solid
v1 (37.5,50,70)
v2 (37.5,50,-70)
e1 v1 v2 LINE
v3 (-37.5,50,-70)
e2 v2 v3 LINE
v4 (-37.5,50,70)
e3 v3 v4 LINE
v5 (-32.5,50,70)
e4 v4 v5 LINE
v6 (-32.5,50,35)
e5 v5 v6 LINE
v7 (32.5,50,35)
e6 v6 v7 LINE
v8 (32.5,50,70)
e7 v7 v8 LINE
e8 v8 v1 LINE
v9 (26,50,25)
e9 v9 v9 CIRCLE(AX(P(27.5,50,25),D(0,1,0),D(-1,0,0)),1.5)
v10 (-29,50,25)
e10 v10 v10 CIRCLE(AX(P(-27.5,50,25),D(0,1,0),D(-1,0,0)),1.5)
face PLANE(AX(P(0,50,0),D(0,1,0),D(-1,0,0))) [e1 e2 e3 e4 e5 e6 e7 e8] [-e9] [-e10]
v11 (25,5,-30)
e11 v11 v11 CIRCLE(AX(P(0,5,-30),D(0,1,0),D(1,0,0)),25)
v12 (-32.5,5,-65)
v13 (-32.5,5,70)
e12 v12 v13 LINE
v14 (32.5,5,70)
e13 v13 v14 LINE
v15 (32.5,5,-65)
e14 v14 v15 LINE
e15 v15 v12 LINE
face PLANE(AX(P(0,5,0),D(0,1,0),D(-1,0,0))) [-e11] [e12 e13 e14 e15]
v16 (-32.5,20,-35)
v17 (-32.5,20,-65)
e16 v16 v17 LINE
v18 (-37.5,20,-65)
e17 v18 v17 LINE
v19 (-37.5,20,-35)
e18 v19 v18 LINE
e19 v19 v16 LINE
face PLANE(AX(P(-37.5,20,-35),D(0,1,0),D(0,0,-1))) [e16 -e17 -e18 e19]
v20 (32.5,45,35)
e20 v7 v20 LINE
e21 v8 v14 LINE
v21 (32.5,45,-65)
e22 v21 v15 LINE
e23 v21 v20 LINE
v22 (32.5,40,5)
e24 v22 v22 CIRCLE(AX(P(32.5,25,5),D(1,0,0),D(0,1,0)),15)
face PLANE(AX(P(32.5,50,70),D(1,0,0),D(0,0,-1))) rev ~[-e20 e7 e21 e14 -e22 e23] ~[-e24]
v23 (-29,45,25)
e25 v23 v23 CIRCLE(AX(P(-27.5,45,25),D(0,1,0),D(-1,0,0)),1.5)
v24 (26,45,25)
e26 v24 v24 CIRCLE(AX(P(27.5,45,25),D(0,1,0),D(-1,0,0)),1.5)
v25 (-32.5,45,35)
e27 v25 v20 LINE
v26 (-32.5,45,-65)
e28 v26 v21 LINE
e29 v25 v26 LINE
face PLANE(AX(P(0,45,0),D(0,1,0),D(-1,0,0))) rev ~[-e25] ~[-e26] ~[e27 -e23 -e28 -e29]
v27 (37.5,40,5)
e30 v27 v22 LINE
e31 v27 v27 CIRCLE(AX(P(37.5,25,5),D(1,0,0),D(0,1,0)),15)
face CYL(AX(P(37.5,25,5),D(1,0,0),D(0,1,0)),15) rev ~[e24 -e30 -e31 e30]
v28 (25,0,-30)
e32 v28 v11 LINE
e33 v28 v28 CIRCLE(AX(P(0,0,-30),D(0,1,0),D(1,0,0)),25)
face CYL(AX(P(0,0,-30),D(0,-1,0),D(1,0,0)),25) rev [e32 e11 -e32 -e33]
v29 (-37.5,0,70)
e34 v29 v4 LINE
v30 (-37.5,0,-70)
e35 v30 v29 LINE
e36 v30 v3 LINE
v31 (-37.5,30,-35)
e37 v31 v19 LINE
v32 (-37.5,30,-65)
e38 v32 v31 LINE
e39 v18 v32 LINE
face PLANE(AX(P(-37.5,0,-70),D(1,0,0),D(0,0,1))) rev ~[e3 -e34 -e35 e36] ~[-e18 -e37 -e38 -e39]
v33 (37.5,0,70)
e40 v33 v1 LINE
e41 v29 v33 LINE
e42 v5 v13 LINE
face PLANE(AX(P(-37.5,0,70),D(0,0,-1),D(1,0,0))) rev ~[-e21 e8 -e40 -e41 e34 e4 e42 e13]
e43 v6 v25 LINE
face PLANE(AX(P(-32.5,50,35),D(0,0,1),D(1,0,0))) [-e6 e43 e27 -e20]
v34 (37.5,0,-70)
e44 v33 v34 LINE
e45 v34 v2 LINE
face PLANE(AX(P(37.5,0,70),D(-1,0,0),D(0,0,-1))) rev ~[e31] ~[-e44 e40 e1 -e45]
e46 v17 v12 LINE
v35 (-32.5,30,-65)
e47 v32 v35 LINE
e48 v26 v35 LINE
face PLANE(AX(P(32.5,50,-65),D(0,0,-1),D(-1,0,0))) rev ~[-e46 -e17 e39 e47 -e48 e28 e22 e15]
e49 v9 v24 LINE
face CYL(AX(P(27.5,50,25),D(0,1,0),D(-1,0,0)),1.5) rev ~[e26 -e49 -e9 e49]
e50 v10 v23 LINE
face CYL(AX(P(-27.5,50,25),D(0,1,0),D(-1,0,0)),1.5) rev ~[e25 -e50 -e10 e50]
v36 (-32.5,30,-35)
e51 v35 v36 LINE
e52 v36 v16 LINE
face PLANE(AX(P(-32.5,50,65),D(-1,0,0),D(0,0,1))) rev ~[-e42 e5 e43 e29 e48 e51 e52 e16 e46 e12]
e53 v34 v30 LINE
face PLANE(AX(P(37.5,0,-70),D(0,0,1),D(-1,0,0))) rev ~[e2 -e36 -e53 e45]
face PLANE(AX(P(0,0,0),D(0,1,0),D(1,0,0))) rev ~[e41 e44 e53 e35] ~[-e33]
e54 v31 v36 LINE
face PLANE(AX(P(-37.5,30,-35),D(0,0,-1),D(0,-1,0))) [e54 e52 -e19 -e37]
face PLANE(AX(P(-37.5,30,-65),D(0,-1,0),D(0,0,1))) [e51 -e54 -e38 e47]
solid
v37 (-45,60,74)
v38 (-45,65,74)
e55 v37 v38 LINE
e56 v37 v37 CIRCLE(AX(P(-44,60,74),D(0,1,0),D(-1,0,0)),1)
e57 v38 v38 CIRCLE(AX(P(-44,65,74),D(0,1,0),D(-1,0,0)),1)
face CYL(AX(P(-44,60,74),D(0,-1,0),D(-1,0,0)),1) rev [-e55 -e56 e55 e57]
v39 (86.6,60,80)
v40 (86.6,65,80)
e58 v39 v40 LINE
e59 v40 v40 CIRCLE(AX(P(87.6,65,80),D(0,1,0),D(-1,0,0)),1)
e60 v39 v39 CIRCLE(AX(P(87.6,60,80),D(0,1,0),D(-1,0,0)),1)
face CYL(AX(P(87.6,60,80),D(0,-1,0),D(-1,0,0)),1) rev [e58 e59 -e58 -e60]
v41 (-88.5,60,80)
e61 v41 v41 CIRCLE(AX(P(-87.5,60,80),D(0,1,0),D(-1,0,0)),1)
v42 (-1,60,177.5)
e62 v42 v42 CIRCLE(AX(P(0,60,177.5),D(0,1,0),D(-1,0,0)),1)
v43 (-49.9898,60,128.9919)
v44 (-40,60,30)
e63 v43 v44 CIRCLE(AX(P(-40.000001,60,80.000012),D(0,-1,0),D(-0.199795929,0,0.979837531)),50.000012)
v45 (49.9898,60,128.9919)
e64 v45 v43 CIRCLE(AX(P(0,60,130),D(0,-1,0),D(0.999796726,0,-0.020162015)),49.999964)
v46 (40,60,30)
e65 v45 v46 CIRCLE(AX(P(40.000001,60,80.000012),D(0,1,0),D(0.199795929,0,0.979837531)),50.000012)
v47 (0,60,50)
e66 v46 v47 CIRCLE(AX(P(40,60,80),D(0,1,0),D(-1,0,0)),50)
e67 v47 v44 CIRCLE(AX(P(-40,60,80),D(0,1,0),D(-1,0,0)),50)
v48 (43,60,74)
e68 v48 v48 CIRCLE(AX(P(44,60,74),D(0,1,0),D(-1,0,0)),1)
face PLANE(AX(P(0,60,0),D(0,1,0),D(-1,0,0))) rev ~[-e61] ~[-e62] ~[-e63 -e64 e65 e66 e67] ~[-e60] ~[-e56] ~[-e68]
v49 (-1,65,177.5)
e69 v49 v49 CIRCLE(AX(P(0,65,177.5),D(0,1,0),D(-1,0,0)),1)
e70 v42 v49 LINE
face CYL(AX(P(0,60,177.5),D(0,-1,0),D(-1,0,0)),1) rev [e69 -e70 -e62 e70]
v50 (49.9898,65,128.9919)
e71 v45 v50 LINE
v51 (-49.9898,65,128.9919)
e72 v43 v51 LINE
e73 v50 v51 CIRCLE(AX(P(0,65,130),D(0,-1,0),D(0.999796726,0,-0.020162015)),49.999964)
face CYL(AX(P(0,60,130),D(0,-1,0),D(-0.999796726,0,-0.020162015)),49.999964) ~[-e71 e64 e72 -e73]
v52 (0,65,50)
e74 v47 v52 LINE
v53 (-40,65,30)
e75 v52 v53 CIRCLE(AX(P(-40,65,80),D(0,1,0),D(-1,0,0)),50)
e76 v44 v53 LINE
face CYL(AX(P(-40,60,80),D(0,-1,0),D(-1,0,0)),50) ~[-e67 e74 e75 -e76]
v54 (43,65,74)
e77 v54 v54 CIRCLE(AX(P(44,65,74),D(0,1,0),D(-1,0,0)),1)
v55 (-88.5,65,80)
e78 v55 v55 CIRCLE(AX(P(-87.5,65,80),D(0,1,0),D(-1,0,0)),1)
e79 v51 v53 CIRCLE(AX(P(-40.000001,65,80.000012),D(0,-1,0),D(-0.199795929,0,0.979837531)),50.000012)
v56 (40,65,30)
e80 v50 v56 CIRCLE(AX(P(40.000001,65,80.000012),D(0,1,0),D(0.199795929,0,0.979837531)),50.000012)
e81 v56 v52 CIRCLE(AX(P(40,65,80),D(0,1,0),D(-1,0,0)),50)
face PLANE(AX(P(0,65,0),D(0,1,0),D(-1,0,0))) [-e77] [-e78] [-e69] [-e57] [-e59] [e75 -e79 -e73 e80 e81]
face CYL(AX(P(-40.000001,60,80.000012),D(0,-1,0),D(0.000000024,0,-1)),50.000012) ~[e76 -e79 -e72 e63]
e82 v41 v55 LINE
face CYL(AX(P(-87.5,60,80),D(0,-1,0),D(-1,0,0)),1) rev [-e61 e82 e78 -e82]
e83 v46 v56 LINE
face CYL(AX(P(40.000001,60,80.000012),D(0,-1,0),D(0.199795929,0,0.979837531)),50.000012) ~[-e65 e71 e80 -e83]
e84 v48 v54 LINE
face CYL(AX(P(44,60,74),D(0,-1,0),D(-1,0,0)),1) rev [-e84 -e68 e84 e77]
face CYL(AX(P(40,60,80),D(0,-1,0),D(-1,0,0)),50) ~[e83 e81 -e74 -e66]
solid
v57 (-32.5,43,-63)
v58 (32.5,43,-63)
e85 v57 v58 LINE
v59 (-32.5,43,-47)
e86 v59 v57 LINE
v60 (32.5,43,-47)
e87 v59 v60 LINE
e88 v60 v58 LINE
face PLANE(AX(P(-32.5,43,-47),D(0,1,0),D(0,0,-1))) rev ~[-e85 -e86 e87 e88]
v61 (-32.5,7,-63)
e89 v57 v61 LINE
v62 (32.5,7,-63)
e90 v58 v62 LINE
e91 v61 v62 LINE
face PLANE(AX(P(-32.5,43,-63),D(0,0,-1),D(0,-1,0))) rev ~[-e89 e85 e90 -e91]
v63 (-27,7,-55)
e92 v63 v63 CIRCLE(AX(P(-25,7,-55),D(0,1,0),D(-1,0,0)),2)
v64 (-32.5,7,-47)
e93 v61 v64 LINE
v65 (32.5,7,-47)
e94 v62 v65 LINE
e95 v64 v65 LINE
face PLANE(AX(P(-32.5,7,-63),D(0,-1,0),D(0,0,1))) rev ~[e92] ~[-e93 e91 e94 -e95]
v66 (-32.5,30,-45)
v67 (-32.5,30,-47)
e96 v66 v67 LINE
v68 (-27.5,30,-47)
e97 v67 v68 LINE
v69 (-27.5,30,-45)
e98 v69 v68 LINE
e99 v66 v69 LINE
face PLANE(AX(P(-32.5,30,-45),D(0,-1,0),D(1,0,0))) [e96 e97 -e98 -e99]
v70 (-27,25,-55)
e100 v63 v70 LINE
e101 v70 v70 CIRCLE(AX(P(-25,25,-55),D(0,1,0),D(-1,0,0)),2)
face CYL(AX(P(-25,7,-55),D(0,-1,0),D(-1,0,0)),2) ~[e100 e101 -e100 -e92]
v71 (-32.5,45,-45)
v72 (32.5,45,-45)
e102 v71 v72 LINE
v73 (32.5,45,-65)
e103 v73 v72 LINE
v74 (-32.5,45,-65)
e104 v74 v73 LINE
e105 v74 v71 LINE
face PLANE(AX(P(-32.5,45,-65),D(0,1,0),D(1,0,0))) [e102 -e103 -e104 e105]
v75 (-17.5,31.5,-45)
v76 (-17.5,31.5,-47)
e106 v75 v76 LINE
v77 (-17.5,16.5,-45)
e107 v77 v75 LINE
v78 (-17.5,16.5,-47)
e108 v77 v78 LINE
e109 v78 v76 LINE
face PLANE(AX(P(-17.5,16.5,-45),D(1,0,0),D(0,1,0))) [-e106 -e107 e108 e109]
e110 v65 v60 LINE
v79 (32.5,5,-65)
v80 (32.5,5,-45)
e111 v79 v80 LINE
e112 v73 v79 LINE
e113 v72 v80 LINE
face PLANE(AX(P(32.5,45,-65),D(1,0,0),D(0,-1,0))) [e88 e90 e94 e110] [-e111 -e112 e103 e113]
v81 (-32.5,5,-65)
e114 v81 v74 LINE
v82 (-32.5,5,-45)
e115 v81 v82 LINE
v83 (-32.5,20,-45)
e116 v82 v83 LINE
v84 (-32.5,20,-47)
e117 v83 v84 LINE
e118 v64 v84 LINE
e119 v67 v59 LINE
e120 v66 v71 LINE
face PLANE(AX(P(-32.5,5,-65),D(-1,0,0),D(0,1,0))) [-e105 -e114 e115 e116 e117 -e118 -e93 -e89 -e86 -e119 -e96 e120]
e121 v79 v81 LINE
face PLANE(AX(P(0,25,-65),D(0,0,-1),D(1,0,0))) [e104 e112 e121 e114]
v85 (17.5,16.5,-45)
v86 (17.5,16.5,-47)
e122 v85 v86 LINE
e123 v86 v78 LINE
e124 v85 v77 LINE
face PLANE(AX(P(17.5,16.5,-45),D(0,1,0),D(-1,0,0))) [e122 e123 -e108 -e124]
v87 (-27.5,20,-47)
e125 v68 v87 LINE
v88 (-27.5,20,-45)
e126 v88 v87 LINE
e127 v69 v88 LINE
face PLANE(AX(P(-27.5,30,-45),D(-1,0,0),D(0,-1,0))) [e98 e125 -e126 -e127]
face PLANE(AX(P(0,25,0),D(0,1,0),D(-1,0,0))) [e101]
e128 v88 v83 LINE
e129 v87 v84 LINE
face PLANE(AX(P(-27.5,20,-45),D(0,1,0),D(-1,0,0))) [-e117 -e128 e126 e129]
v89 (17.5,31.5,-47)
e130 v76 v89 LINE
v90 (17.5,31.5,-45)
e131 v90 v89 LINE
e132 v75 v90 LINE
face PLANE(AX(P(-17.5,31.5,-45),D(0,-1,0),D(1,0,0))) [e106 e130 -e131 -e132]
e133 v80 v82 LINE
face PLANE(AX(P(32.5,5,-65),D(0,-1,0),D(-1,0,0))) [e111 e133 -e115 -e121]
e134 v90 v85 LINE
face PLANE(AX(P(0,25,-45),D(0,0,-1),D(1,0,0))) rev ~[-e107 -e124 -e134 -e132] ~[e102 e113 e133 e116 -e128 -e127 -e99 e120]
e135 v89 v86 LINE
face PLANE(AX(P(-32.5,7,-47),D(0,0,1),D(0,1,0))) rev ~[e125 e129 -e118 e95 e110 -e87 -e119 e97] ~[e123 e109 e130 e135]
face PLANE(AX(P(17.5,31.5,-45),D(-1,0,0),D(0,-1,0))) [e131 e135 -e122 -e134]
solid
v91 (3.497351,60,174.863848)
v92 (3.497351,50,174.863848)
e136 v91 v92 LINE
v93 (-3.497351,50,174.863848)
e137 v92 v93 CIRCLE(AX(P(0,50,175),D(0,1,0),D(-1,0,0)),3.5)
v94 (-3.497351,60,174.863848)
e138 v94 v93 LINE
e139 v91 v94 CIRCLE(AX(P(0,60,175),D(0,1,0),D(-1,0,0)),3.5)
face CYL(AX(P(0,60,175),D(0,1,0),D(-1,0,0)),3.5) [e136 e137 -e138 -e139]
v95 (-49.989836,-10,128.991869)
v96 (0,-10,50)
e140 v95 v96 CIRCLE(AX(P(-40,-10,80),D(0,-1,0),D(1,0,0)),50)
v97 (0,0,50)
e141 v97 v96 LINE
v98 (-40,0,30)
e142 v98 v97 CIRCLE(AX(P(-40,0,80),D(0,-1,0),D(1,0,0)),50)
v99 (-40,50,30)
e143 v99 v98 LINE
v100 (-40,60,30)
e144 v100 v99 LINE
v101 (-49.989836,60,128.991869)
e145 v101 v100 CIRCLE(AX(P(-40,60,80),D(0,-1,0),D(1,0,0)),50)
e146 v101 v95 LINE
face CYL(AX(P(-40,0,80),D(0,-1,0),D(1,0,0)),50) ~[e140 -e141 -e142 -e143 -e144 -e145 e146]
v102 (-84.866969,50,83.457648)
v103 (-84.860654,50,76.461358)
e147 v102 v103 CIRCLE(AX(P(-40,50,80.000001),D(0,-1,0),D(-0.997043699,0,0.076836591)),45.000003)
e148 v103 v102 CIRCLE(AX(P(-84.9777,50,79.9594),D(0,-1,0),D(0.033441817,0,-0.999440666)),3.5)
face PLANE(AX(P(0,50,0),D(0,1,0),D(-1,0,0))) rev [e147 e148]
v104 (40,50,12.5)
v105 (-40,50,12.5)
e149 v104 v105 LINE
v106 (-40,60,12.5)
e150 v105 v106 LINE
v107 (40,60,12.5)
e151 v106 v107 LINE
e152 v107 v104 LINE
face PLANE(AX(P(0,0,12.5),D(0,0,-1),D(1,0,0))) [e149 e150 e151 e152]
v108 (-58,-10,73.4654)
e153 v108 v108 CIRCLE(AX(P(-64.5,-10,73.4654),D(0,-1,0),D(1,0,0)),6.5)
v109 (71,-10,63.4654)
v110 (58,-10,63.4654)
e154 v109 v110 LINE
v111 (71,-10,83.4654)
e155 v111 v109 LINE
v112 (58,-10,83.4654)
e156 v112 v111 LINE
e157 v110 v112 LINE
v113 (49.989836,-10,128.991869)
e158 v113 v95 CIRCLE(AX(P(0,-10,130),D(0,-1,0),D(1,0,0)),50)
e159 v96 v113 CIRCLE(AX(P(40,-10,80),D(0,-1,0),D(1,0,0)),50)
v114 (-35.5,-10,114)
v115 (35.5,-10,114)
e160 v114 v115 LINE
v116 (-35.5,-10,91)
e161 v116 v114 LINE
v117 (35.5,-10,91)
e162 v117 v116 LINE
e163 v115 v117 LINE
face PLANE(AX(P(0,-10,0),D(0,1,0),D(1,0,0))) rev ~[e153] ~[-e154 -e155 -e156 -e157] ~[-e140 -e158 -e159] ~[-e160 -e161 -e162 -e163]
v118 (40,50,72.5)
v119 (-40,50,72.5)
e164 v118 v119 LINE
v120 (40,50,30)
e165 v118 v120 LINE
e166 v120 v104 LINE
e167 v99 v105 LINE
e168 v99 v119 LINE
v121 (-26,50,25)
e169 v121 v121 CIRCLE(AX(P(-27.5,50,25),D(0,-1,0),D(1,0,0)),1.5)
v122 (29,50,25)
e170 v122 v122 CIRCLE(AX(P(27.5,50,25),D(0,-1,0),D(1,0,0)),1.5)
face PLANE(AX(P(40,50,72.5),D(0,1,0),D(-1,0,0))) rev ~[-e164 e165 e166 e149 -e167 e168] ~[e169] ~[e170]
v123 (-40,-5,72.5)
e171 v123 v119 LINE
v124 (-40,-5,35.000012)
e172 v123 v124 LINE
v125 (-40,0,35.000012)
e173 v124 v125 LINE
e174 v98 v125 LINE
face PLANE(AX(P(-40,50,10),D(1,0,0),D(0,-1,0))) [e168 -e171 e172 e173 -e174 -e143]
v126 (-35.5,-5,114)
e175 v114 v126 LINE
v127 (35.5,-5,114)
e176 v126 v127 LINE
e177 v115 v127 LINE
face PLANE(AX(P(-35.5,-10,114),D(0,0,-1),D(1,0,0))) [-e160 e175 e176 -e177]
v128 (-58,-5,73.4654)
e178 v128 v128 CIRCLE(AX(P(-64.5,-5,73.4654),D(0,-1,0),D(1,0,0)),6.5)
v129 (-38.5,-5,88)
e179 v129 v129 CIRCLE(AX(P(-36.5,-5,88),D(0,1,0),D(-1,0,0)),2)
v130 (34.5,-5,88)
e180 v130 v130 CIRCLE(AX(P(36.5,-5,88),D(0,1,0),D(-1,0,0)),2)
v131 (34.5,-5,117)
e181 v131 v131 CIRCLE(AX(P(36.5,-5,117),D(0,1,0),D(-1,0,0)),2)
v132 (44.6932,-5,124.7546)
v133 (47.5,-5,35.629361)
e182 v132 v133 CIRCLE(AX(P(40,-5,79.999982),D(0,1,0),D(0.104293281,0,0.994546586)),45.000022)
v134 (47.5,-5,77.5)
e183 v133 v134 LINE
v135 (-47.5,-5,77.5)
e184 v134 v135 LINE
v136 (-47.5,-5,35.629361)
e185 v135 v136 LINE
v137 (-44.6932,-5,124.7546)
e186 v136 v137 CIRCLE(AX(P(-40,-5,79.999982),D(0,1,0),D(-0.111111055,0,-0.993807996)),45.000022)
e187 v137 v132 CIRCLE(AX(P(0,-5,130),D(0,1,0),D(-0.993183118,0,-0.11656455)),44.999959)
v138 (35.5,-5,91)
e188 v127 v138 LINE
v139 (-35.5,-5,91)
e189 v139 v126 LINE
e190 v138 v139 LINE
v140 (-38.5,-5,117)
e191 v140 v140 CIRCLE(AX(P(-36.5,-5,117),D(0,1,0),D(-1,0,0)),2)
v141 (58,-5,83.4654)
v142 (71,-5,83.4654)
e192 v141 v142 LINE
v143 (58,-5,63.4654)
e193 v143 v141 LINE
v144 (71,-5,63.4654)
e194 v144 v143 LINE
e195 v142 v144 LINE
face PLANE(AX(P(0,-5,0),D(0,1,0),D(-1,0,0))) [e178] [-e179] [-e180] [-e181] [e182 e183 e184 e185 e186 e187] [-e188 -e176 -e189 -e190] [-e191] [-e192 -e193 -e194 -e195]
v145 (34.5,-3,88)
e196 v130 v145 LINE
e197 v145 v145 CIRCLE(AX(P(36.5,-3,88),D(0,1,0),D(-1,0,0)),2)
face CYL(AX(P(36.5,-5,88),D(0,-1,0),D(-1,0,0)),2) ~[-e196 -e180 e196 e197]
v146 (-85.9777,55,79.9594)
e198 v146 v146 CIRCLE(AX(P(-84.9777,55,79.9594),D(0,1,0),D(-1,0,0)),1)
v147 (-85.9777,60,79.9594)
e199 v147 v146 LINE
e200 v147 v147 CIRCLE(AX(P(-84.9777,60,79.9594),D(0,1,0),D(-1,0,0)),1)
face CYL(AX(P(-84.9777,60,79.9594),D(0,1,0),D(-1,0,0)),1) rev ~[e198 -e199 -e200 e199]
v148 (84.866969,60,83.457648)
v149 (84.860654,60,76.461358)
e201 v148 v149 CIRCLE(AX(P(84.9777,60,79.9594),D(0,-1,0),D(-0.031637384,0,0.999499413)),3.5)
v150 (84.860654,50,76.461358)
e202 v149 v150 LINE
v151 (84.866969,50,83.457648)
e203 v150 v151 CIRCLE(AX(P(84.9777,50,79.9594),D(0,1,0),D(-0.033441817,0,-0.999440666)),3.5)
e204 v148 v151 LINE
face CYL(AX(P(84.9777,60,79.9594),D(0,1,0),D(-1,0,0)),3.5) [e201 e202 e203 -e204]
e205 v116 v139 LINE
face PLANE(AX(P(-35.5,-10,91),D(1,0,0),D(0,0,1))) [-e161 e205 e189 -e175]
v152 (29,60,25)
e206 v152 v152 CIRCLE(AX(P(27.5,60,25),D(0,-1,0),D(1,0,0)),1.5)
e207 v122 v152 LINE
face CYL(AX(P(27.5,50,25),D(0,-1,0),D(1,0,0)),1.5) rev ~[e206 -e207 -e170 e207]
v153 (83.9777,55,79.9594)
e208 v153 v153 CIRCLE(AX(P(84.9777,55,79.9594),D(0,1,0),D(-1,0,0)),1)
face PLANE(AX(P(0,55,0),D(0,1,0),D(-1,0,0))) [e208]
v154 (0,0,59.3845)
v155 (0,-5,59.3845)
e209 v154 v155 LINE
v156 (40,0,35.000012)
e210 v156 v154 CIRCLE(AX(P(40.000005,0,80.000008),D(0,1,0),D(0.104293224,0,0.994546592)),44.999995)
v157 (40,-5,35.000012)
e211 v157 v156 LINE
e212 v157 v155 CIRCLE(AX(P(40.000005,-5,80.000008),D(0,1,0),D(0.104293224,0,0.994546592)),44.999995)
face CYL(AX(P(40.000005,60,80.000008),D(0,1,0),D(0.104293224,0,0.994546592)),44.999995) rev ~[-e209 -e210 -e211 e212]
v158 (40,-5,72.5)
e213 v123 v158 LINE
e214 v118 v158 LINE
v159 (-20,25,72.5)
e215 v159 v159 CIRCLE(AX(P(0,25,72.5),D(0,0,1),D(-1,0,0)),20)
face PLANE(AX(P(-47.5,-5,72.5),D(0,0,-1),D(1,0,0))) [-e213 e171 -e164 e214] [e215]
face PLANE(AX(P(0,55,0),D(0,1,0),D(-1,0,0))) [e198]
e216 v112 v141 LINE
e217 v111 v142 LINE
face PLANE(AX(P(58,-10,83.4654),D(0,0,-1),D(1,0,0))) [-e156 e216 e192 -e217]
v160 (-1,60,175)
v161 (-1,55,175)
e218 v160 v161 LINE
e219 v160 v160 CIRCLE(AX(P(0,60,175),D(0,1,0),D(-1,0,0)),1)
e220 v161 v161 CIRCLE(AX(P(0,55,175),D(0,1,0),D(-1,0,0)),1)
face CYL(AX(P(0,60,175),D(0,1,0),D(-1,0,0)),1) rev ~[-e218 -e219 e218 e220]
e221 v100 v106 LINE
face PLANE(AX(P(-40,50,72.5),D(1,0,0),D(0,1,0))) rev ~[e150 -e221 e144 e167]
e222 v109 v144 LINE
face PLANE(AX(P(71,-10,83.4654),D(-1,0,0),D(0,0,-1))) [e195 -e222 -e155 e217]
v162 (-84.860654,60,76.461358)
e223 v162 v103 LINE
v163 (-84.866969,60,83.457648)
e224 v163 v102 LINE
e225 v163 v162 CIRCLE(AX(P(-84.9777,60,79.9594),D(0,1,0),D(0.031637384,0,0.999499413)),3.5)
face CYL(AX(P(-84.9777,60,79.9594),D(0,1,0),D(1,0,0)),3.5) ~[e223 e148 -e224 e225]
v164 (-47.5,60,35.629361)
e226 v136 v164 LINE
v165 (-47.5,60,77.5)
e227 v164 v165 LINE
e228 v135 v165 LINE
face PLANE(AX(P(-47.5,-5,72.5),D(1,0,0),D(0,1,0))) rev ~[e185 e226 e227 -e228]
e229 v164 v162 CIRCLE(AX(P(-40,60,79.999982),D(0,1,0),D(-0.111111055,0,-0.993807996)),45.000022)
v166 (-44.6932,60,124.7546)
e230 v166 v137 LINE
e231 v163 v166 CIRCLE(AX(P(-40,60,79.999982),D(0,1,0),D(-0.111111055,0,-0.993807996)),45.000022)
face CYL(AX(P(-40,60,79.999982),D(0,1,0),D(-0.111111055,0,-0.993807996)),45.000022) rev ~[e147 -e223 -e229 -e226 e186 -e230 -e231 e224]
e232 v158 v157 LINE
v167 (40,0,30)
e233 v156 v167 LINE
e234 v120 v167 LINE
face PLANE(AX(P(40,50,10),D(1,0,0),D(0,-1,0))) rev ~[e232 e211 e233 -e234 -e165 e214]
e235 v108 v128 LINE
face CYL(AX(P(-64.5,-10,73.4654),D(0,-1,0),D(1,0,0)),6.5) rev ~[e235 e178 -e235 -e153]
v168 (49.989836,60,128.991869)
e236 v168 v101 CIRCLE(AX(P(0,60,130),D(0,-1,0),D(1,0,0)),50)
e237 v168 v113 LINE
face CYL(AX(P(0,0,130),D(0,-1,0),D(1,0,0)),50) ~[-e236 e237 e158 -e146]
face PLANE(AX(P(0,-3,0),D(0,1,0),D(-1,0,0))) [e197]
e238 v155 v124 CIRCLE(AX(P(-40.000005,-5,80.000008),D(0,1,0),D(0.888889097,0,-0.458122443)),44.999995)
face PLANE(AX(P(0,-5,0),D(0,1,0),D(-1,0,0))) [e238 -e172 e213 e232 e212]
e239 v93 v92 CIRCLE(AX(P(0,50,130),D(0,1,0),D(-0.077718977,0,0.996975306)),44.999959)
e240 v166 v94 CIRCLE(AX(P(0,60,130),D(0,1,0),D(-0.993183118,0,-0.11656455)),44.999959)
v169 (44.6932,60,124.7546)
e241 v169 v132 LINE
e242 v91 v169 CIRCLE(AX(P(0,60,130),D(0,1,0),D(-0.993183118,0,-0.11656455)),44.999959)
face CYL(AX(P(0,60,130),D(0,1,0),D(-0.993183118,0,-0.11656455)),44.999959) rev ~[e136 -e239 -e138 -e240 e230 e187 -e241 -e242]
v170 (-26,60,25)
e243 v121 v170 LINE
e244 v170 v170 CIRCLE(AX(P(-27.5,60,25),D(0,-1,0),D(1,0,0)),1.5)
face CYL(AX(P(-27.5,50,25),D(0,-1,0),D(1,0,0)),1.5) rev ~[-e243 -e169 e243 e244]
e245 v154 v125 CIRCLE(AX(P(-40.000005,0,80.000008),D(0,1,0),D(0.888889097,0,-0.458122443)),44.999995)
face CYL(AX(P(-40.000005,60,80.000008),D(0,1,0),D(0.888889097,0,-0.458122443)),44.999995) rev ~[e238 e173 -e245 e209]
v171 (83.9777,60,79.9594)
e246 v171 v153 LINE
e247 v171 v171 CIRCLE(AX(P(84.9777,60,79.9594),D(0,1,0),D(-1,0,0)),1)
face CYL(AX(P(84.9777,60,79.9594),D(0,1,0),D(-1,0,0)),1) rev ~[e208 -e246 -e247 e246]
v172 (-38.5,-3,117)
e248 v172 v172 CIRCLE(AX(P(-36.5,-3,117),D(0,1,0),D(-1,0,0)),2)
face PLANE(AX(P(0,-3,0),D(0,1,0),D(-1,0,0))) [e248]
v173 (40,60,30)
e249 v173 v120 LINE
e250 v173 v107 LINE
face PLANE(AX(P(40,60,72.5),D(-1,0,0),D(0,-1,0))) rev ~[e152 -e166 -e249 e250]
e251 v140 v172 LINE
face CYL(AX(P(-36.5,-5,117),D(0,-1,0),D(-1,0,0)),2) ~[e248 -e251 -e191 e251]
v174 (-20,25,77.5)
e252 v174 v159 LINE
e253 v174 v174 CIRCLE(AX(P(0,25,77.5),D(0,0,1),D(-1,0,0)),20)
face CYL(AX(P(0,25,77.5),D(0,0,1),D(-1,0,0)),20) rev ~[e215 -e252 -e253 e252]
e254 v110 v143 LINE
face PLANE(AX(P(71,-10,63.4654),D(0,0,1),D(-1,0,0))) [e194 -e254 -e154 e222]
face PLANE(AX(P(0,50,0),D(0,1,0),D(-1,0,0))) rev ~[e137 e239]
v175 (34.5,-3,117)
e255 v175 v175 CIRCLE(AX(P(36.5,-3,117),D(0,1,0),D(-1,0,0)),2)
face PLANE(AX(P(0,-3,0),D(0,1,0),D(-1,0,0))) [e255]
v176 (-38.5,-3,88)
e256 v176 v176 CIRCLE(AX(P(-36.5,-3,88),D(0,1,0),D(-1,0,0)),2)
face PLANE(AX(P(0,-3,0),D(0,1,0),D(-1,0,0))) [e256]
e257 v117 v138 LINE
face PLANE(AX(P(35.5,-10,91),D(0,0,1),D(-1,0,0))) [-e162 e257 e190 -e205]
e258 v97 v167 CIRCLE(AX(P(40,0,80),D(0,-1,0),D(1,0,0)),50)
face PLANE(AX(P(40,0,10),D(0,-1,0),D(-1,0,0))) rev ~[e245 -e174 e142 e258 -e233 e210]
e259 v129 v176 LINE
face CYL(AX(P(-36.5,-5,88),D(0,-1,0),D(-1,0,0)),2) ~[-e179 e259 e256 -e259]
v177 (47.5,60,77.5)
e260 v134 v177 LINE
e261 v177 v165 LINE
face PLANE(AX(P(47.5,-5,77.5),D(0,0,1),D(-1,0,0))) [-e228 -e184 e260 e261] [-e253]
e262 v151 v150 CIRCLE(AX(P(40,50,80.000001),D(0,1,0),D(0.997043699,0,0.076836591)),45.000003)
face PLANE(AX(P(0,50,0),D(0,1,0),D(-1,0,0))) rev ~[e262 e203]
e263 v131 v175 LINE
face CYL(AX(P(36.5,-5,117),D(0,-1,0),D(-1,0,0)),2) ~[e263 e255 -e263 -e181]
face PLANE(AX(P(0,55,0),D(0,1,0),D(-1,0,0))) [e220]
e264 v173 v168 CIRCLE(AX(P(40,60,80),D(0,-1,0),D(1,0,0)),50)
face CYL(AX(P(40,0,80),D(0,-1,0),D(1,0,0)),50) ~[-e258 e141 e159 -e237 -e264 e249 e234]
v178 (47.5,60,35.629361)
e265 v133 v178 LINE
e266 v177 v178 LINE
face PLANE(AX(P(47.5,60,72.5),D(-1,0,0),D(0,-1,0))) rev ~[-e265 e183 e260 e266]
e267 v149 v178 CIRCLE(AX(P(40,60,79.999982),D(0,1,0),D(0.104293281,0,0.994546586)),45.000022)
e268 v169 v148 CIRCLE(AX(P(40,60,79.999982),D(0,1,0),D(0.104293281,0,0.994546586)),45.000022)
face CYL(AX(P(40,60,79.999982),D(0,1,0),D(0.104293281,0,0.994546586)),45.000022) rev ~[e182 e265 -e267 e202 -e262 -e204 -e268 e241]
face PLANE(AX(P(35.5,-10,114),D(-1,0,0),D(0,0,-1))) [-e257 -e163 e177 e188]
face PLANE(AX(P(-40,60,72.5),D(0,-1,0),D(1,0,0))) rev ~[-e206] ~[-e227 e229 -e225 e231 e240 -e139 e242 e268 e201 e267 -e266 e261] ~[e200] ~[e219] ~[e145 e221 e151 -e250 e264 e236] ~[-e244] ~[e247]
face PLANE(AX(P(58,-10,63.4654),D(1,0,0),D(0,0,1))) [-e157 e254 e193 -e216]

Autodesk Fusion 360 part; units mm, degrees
sketch "Sketch1" plane through (0, 0, 0) normal (0, 1, 0) x (1, 0, 0) in component "Trunk"
  line L0 (37.5, 70) -> (-37.5, 70)
  line L1 (-37.5, 70) -> (-37.5, -70)
  line L2 (-37.5, -70) -> (37.5, -70)
  line L3 (37.5, -70) -> (37.5, 70)
  line L4 (37.5, 70) -> (-37.5, -70) construction
  line L5 (-37.5, 70) -> (37.5, -70) construction
  line L6 (-37.5, -30) -> (37.5, -30) construction
  dimension "d1" = 75
  dimension "d2" = 140
  dimension "d3" = 100
extrude "Extrude1" add sketch "Sketch1" along normal blind 50 makes body 1 in component "Trunk"
sketch "Sketch2" plane through (0, 50, 0) normal (0, 1, 0) x (-1, 0, 0) in component "Trunk"
  line L0 (-37.5, 70) -> (-37.5, -70)
  line L1 (-37.5, -70) -> (37.5, -70)
  line L2 (37.5, -70) -> (37.5, 70)
  line L3 (37.5, 70) -> (-37.5, 70)
  line L4 (-32.5, -65) -> (32.5, -65)
  line L5 (32.5, -65) -> (32.5, 65)
  line L6 (32.5, 65) -> (-32.5, 65)
  line L7 (-32.5, 65) -> (-32.5, -65)
  line L8 (-32.5, 65) -> (32.5, 65)
  line L9 (32.5, 65) -> (32.5, 70)
  line L10 (32.5, 70) -> (-32.5, 70)
  line L11 (-32.5, 70) -> (-32.5, 65)
  dimension "d6" = -5
extrude "Extrude2" cut sketch "Sketch2" against normal up to surface (45 mm away) contours L3 L6 L8 L9 L10 L11 | L4 L5 L6 L7 L8 bodies 1 in component "Trunk"
sketch "Sketch3" plane through (37.5, 0, 0) normal (1, 0, 0) x (0, 1, 0) in component "Trunk"
  line L0 (0, 70) -> (0, -70)
  line L1 (0, -70) -> (50, -70)
  line L2 (50, -70) -> (50, 70)
  line L3 (50, 70) -> (0, 70)
  circle A0 centre (25, 5) radius 15
  dimension "d9" = 30
  dimension "d10" = 25
  dimension "d11" = 75
extrude "Extrude3" cut sketch "Sketch3" against normal up to surface (5 mm away) contours A0 bodies 1 in component "Trunk"
sketch "Sketch4" plane through (0, 0, 0) normal (0, 1, 0) x (1, 0, 0) in component "Trunk"
  circle A0 centre (0, 30) radius 25
  line L0 (37.5, 70) -> (-37.5, 70)
  line L1 (-37.5, 70) -> (-37.5, -70)
  dimension "d14" = 50
  dimension "d15" = 40
  dimension "d16" = 37.5
extrude "Extrude4" cut sketch "Sketch4" along normal up to surface (5 mm away) bodies 1 in component "Trunk"
sketch "Sketch5" plane through (-37.5, 0, 0) normal (-1, 0, 0) x (0, -1, 0) in component "Trunk"
  line L0 (0, -70) -> (0, 70)
  line L1 (0, 70) -> (-50, 70)
  line L2 (-50, 70) -> (-50, -70)
  line L3 (-50, -70) -> (0, -70)
  line L4 (-20, -65) -> (-30, -65)
  line L5 (-30, -65) -> (-30, -35)
  line L6 (-30, -35) -> (-20, -35)
  line L7 (-20, -35) -> (-20, -65)
  line L8 (-20, -65) -> (-30, -35) construction
  line L9 (-30, -65) -> (-20, -35) construction
  point P0 (-25, -50)
  dimension "d19" = 10
  dimension "d20" = 30
  dimension "d21" = 20
  dimension "d22" = 25
extrude "Extrude5" cut sketch "Sketch5" against normal up to surface (5 mm away) contours L4 L5 L6 L7 bodies 1 in component "Trunk"
sketch "Sketch7" plane through (9.6288, -5.5064, -65) normal (0, 0, 1) x (-1, 0, 0) in component "Trunk"
  line L0 (42.1288, -10.5064) -> (-22.8712, -10.5064)
  line L1 (-22.8712, -10.5064) -> (-22.8712, -55.5064)
  line L2 (-22.8712, -55.5064) -> (42.1288, -55.5064)
  line L3 (42.1288, -55.5064) -> (42.1288, -35.5064)
  line L4 (42.1288, -35.5064) -> (47.1288, -35.5064)
  line L5 (47.1288, -35.5064) -> (47.1288, -25.5064)
  line L6 (47.1288, -25.5064) -> (42.1288, -25.5064)
  line L7 (42.1288, -25.5064) -> (42.1288, -10.5064)
sketch "Sketch8" plane through (0, 50, 0) normal (0, 1, 0) x (-1, 0, 0) in component "Trunk"
  line L0 (32.5, 70) -> (32.5, -65)
  line L1 (32.5, -65) -> (-32.5, -65)
  line L2 (-32.5, -65) -> (-32.5, 70)
  line L3 (-32.5, 70) -> (-37.5, 70)
  line L4 (-37.5, 70) -> (-37.5, -70)
  line L5 (-37.5, -70) -> (37.5, -70)
  line L6 (37.5, -70) -> (37.5, 70)
  line L7 (37.5, 70) -> (32.5, 70)
  line L8 (-32.5, -65) -> (32.5, -65)
  line L9 (32.5, -65) -> (32.5, 35)
  line L10 (32.5, 35) -> (-32.5, 35)
  line L11 (-32.5, 35) -> (-32.5, -65)
  dimension "d30" = 100
extrude "Extrude7" add sketch "Sketch8" against normal blind 5 contours L0 L1 L2 L8 L9 L10 L11 bodies 1 in component "Trunk"
sketch "Sketch9" plane through (0, 50, 0) normal (0, 1, 0) x (-1, 0, 0) in component "Trunk"
  line L0 (32.5, 70) -> (32.5, 35)
  line L1 (32.5, 35) -> (-32.5, 35)
  line L2 (-32.5, 35) -> (-32.5, 70)
  line L3 (-32.5, 70) -> (-37.5, 70)
  line L4 (-37.5, 70) -> (-37.5, -70)
  line L5 (-37.5, -70) -> (37.5, -70)
  line L6 (37.5, -70) -> (37.5, 70)
  line L7 (37.5, 70) -> (32.5, 70)
  circle A0 centre (-27.5, 25) radius 1.5
  circle A1 centre (27.5, 25) radius 1.5
  dimension "d33" = 3
  dimension "d34" = 3
  dimension "d35" = 10
  dimension "d36" = 95
  dimension "d37" = 10
  dimension "d38" = 95
extrude "Extrude8" cut sketch "Sketch9" against normal up to surface (5 mm away) contours A0 | A1 bodies 1 in component "Trunk"
sketch "Sketch1 (2)" plane through (0, 0, 0) normal (0, 1, 0) x (1, 0, 0) in component "Leaves"
  line L0 (30, 70) -> (30, -30) construction
  circle A0 centre (-40, -80) radius 50
  line L1 (37.5, 70) -> (-37.5, 70)
  line L2 (0, -1.75) -> (0, -22.5)
  circle A1 centre (40, -80) radius 50
  circle A2 centre (0, -130) radius 50
  dimension "d41" = 100
  dimension "d42" = 100
  dimension "d43" = 150
  dimension "d44" = 40
  dimension "d45" = 100
  dimension "d46" = 100
  dimension "d47" = 150
  dimension "d48" = 40
  dimension "d49" = 200
extrude "Extrude1'" add sketch "Sketch1 (2)" along normal blind 60 separate body makes body 2 in component "Leaves"
move_face "OffsetFaces1" offset 10 1 faces at (0, 0, 102.6612) on bodies 2 in component "Leaves"
ref_plane "WorkPlane1" through (0, 0, 10) normal (0, 0, 1) x (1, 0, 0) in component "Leaves"
sketch "Sketch3 (2)" plane through (0, 0, 10) normal (0, 0, 1) x (1, 0, 0) in component "Leaves"
  line L0 (0, 50) -> (40, 50)
  line L1 (40, 50) -> (40, 0)
  line L2 (40, 0) -> (0, 0)
  line L3 (0, 0) -> (0, 50)
  line L4 (0, 50) -> (-40, 50)
  line L5 (-40, 50) -> (-40, 0)
  line L6 (-40, 0) -> (0, 0)
  line L7 (0, 0) -> (0, 50)
  dimension "d54" = 50
  dimension "d55" = 40
sketch "Sketch4 (2)" plane through (0, 60, 0) normal (0, 1, 0) x (-1, 0, 0) in component "Leaves"
  arc A0 (0, 50) -> (49.9898, 128.9919) centre (40, 80) ccw
  arc A1 (49.9898, 128.9919) -> (-49.9898, 128.9919) centre (0, 130) ccw
  arc A2 (-49.9898, 128.9919) -> (0, 50) centre (-40, 80) ccw
  arc A3 (45, 35.2786) -> (44.6932, 124.7546) centre (40, 80) ccw
  arc A4 (44.6932, 124.7546) -> (-44.6932, 124.7546) centre (0, 130) ccw
  arc A5 (-44.6932, 124.7546) -> (-45, 35.2786) centre (-40, 80) ccw
  arc A6 (0, 59.3845) -> (44.6932, 124.7546) centre (40, 80) ccw
  arc A7 (44.6932, 124.7546) -> (-44.6932, 124.7546) centre (0, 130) ccw
  arc A8 (-44.6932, 124.7546) -> (0, 59.3845) centre (-40, 80) ccw
  dimension "d59" = -5
extrude "Extrude3'" cut sketch "Sketch4 (2)" against normal up to surface (65 mm away) contours A3 A4 A5 A6 A7 A8 bodies 2 in component "Leaves"
extrude "Extrude2'" cut sketch "Sketch3 (2)" along normal blind 75 bodies 2 in component "Leaves"
sketch "Sketch5 (2)" plane through (0, -5, 0) normal (0, 1, 0) x (-1, 0, 0) in component "Leaves"
  arc A0 (0, 59.3845) -> (44.6932, 124.7546) centre (40, 80) ccw
  arc A1 (44.6932, 124.7546) -> (-44.6932, 124.7546) centre (0, 130) ccw
  arc A2 (-44.6932, 124.7546) -> (0, 59.3845) centre (-40, 80) ccw
  line L0 (47.5, 72.5) -> (-47.5, 72.5)
  line L1 (-47.5, 72.5) -> (-47.5, 77.5)
  line L2 (-47.5, 77.5) -> (47.5, 77.5)
  line L3 (47.5, 77.5) -> (47.5, 72.5)
  line L4 (47.5, 72.5) -> (-47.5, 77.5) construction
  line L5 (-47.5, 72.5) -> (47.5, 77.5) construction
  point P0 (0, 75)
  dimension "d62" = 95
  dimension "d63" = 5
  dimension "d64" = 75
extrude "Extrude4'" add sketch "Sketch5 (2)" along normal blind 65 contours L0 L1 L2 L3 bodies 2 in component "Leaves"
sketch "Sketch7 (2)" plane through (0, 0, 72.5) normal (0, 0, -1) x (1, 0, 0) in component "Leaves"
  line L0 (47.5, 5) -> (-47.5, 5)
  line L1 (-47.5, 5) -> (-47.5, -60)
  line L2 (-47.5, -60) -> (47.5, -60)
  line L3 (47.5, -60) -> (47.5, 5)
  line L4 (-47.5, 5) -> (-40, 5)
  line L5 (-40, 5) -> (-40, -60)
  line L6 (-40, -60) -> (-47.5, -60)
  line L7 (-47.5, -60) -> (-47.5, 5)
  line L8 (47.5, -60) -> (40, -60)
  line L9 (40, -60) -> (40, 5)
  line L10 (40, 5) -> (47.5, 5)
  line L11 (47.5, 5) -> (47.5, -60)
  dimension "d76" = 7.5
  dimension "d77" = 7.5
extrude "Extrude6" add sketch "Sketch7 (2)" along normal blind 40 contours L0 L2 L3 L8 L9 L10 L11 | L0 L1 L2 L4 L5 L6 L7 bodies 2 in component "Leaves"
sketch "Sketch10" plane through (0, -10, 0) normal (0, -1, 0) x (1, 0, 0) in component "Leaves"
  arc A0 (49.9898, 128.9919) -> (-49.9898, 128.9919) centre (0, 130) ccw
  arc A1 (-49.9898, 128.9919) -> (0, 50) centre (-40, 80) ccw
  arc A2 (0, 50) -> (49.9898, 128.9919) centre (40, 80) ccw
  line L0 (35.5, 91) -> (-35.5, 91)
  line L1 (-35.5, 91) -> (-35.5, 114)
  line L2 (-35.5, 114) -> (35.5, 114)
  line L3 (35.5, 114) -> (35.5, 91)
  line L4 (35.5, 91) -> (-35.5, 114) construction
  line L5 (-35.5, 91) -> (35.5, 114) construction
  line L6 (47.5, 77.5) -> (-47.5, 77.5)
  point P0 (0, 102.5)
  dimension "d89" = 71
  dimension "d90" = 23
  dimension "d91" = 25
extrude "Extrude9" cut sketch "Sketch10" against normal up to surface (5 mm away) contours L0 L1 L2 L3 bodies 2 in component "Leaves"
sketch "Sketch11" plane through (-0.8027, -10, 3.4654) normal (0, -1, 0) x (1, 0, 0) in component "Leaves"
  line L0 (36.3027, 110.5346) -> (36.3027, 87.5346)
  line L1 (36.3027, 87.5346) -> (-34.6973, 87.5346)
  line L2 (-34.6973, 87.5346) -> (-34.6973, 110.5346)
  line L3 (-34.6973, 110.5346) -> (36.3027, 110.5346)
  arc A0 (50.7925, 125.5264) -> (-49.1872, 125.5264) centre (0.8027, 126.5346) ccw
  arc A1 (-49.1872, 125.5264) -> (0.8027, 46.5346) centre (-39.1973, 76.5346) ccw
  arc A2 (0.8027, 46.5346) -> (50.7925, 125.5264) centre (40.8027, 76.5346) ccw
  circle A3 centre (-63.6973, 70) radius 6.5
  line L4 (71.8027, 60) -> (58.8027, 60)
  line L5 (58.8027, 60) -> (58.8027, 80)
  line L6 (58.8027, 80) -> (71.8027, 80)
  line L7 (71.8027, 80) -> (71.8027, 60)
  line L8 (71.8027, 60) -> (58.8027, 80) construction
  line L9 (58.8027, 60) -> (71.8027, 80) construction
  point P0 (65.3027, 70)
  dimension "d94" = 13
  dimension "d95" = 13
  dimension "d96" = 20
  dimension "d97" = 29
  dimension "d98" = 29
extrude "Extrude10" cut sketch "Sketch11" against normal up to surface (5 mm away) contours A3 | L4 L5 L6 L7 bodies 2 in component "Leaves"
sketch "Sketch12" plane through (0, -5, 0) normal (0, 1, 0) x (-1, 0, 0) in component "Leaves"
  circle A0 centre (64.5, 73.4654) radius 6.5
  line L0 (-71, 63.4654) -> (-71, 83.4654)
  line L1 (-71, 83.4654) -> (-58, 83.4654)
  line L2 (-58, 83.4654) -> (-58, 63.4654)
  line L3 (-58, 63.4654) -> (-71, 63.4654)
  line L4 (-35.5, 91) -> (-35.5, 114)
  line L5 (-35.5, 114) -> (35.5, 114)
  line L6 (35.5, 114) -> (35.5, 91)
  line L7 (35.5, 91) -> (-35.5, 91)
  line L8 (-47.5, 35.6294) -> (-47.5, 77.5)
  line L9 (-47.5, 77.5) -> (47.5, 77.5)
  line L10 (47.5, 77.5) -> (47.5, 35.6294)
  arc A1 (47.5, 35.6294) -> (44.6932, 124.7546) centre (40, 80) ccw
  arc A2 (44.6932, 124.7546) -> (-44.6932, 124.7546) centre (0, 130) ccw
  arc A3 (-44.6932, 124.7546) -> (-47.5, 35.6294) centre (-40, 80) ccw
  circle A4 centre (-36.5, 117) radius 2
  circle A5 centre (-36.5, 88) radius 2
  circle A6 centre (36.5, 117) radius 2
  circle A7 centre (36.5, 88) radius 2
  dimension "d144" = 4
  dimension "d145" = 4
  dimension "d146" = 4
  dimension "d147" = 3
  dimension "d148" = 1
  dimension "d149" = 1
  dimension "d150" = 3
  dimension "d151" = 3
  dimension "d152" = 1
  dimension "d153" = 4
  dimension "d154" = 1
  dimension "d155" = 3
extrude "Extrude11" add sketch "Sketch12" along normal blind 2 contours A4 | A5 | A6 | A7 bodies 2 in component "Leaves"
ref_plane "WorkPlane2" through (0, 25, -65) normal (0, 0, -1) x (-1, 0, 0) in component "ShovelHole"
sketch "Sketch2 (2)" plane through (0, 25, -65) normal (0, 0, -1) x (1, 0, 0) in component "ShovelHole"
  line L0 (32.5, 20) -> (-32.5, 20)
  line L1 (-32.5, 20) -> (-32.5, -20)
  line L2 (-32.5, -20) -> (32.5, -20)
  line L3 (32.5, -20) -> (32.5, 20)
  line L4 (32.5, 20) -> (-32.5, -20) construction
  line L5 (-32.5, 20) -> (32.5, -20) construction
  dimension "d123" = 65
  dimension "d124" = 40
extrude "Extrude1''" add sketch "Sketch2 (2)" against normal blind 20 separate body makes body 3 in component "ShovelHole"
sketch "Sketch3 (3)" plane through (-32.5, 0, 0) normal (-1, 0, 0) x (0, -1, 0) in component "ShovelHole"
  line L0 (-45, -65) -> (-5, -65)
  line L1 (-5, -65) -> (-5, -45)
  line L2 (-5, -45) -> (-45, -45)
  line L3 (-45, -45) -> (-45, -65)
  line L4 (-43, -63) -> (-7, -63)
  line L5 (-7, -63) -> (-7, -47)
  line L6 (-7, -47) -> (-43, -47)
  line L7 (-43, -47) -> (-43, -63)
  dimension "d127" = -2
extrude "Extrude2''" cut sketch "Sketch3 (3)" against normal up to surface (65 mm away) contours L4 L5 L6 L7 bodies 3 in component "ShovelHole"
sketch "Sketch4 (3)" plane through (0, 0, -45) normal (0, 0, 1) x (-1, 0, 0) in component "ShovelHole"
  line L0 (-32.5, -5) -> (-32.5, -45)
  line L1 (-32.5, -45) -> (32.5, -45)
  line L2 (32.5, -45) -> (32.5, -5)
  line L3 (32.5, -5) -> (-32.5, -5)
  line L4 (0, -30) -> (32.5, -30) construction
  line L5 (32.5, -30) -> (27.5, -30)
  line L6 (27.5, -30) -> (27.5, -20)
  line L7 (27.5, -20) -> (32.5, -20)
  line L8 (32.5, -20) -> (32.5, -30)
  dimension "d135" = 5
extrude "Extrude3''" cut sketch "Sketch4 (3)" against normal up to surface (2 mm away) contours L2 L5 L6 L7 L8 bodies 3 in component "ShovelHole"
sketch "Sketch5 (3)" plane through (0, 7, 0) normal (0, 1, 0) x (-1, 0, 0) in component "ShovelHole"
  line L0 (-32.5, -47) -> (-32.5, -63)
  line L1 (-32.5, -63) -> (32.5, -63)
  line L2 (32.5, -63) -> (32.5, -47)
  line L3 (32.5, -47) -> (-32.5, -47)
  circle A0 centre (25, -55) radius 2
  dimension "d132" = 4
  dimension "d136" = 8
  dimension "d137" = 7.5
extrude "Extrude4''" add sketch "Sketch5 (3)" along normal blind 18 contours A0 bodies 3 in component "ShovelHole"
sketch "Sketch1 (3)" plane through (0, 0, -45) normal (0, 0, 1) x (-1, 0, 0)
  line L0 (32.5, -30) -> (27.5, -30)
  line L1 (27.5, -30) -> (27.5, -20)
  line L2 (27.5, -20) -> (32.5, -20)
  line L3 (32.5, -20) -> (32.5, -5)
  line L4 (32.5, -5) -> (-32.5, -5)
  line L5 (-32.5, -5) -> (-32.5, -45)
  line L6 (-32.5, -45) -> (32.5, -45)
  line L7 (32.5, -45) -> (32.5, -30)
  line L8 (-17.5, -16.5) -> (17.5, -16.5)
  line L9 (17.5, -16.5) -> (17.5, -31.5)
  line L10 (17.5, -31.5) -> (-17.5, -31.5)
  line L11 (-17.5, -31.5) -> (-17.5, -16.5)
  line L12 (-17.5, -16.5) -> (17.5, -31.5) construction
  line L13 (17.5, -16.5) -> (-17.5, -31.5) construction
  point P0 (0, -24)
  dimension "d184" = 35
  dimension "d185" = 15
extrude "Extrude6'" cut sketch "Sketch1 (3)" against normal up to surface (2 mm away) contours L8 L9 L10 L11 bodies 3 in component "ShovelHole"
sketch "Sketch13" plane through (0, 0, 77.5) normal (0, 0, 1) x (-1, 0, 0) in component "Leaves"
  line L0 (47.5, 5) -> (-47.5, 5)
  line L1 (-47.5, 5) -> (-47.5, -60)
  line L2 (-47.5, -60) -> (47.5, -60)
  line L3 (47.5, -60) -> (47.5, 5)
  circle A0 centre (0, -25) radius 20
  dimension "d156" = 40
  dimension "d157" = 35
extrude "Extrude12" cut sketch "Sketch13" against normal up to surface (5 mm away) contours A0 bodies 2 in component "Leaves"
sketch "Sketch14" plane through (0, 0, 72.5) normal (0, 0, -1) x (1, 0, 0) in component "Leaves"
  circle A0 centre (0, -25) radius 20
  line L0 (40, -60) -> (40, 5)
  line L1 (40, 5) -> (-40, 5)
  line L2 (-40, 5) -> (-40, -60)
  line L3 (-40, -60) -> (40, -60)
  line L4 (-40, -60) -> (40, -60)
  line L5 (40, -60) -> (40, -50)
  line L6 (40, -50) -> (-40, -50)
  line L7 (-40, -50) -> (-40, -60)
  dimension "d160" = 80
  dimension "d161" = 10
extrude "Extrude13" add sketch "Sketch14" along normal blind 60 contours L0 L2 L3 L4 L5 L6 L7 bodies 2 in component "Leaves"
sketch "Sketch15" plane through (0, 50, 0) normal (0, -1, 0) x (1, 0, 0) in component "Leaves"
  line L0 (-40, 72.5) -> (-40, 30)
  line L1 (-40, 30) -> (-40, 12.5)
  line L2 (-40, 12.5) -> (40, 12.5)
  line L3 (40, 12.5) -> (40, 30)
  line L4 (40, 30) -> (40, 72.5)
  line L5 (40, 72.5) -> (-40, 72.5)
  circle A0 centre (-27.5, 25) radius 1.5
  line L6 (-32.5, -65) -> (-32.5, 70)
  line L7 (0, 1.75) -> (0, 22.5)
  circle A1 centre (27.5, 25) radius 1.5
  dimension "d164" = 3
  dimension "d165" = 5
  dimension "d166" = 12.5
extrude "Extrude14" cut sketch "Sketch15" against normal up to surface (10 mm away) contours A0 | A1 bodies 2 in component "Leaves"
sketch "Sketch16" plane through (0, 60, 0) normal (0, 1, 0) x (-1, 0, 0) in component "Leaves"
  circle A0 centre (27.5, 25) radius 1.5
  circle A1 centre (-27.5, 25) radius 1.5
  line L0 (-40, 30) -> (-40, 12.5)
  line L1 (-40, 12.5) -> (40, 12.5)
  line L2 (40, 12.5) -> (40, 30)
  arc A2 (40, 30) -> (49.9898, 128.9919) centre (40, 80) ccw
  arc A3 (49.9898, 128.9919) -> (-49.9898, 128.9919) centre (0, 130) ccw
  arc A4 (-49.9898, 128.9919) -> (-40, 30) centre (-40, 80) ccw
  line L3 (-47.5, 77.5) -> (-47.5, 35.6294)
  arc A5 (-44.6932, 124.7546) -> (-47.5, 35.6294) centre (-40, 80) ccw
  arc A6 (44.6932, 124.7546) -> (-44.6932, 124.7546) centre (0, 130) ccw
  arc A7 (47.5, 35.6294) -> (44.6932, 124.7546) centre (40, 80) ccw
  line L4 (47.5, 35.6294) -> (47.5, 77.5)
  line L5 (47.5, 77.5) -> (-47.5, 77.5)
  circle A8 centre (-84.9777, 79.9594) radius 3.5
  circle A9 centre (-84.9777, 79.9594) radius 1.5
  circle A10 centre (0, 175) radius 3.5
  circle A11 centre (0, 175) radius 1.5
  dimension "d169" = 7
  dimension "d170" = -2
  dimension "d171" = 7
  dimension "d172" = -2
extrude "Extrude15" add sketch "Sketch16" against normal blind 10 contours A5 A8 A9 | A5 A9 | A6 A10 A11 | A6 A11 picked at (-84.2514, 82.186) picked at (-84.4907, 79.9594) picked at (-2.2066, 174.2251) picked at (-0.037, 174.4995) bodies 2 in component "Leaves"
mirror "Mirror1" about plane through (0, 0, 0) normal (1, 0, 0) of "Extrude15" in component "Leaves"
sketch "Sketch17" plane through (0, 60, 0) normal (0, 1, 0) x (-1, 0, 0) in component "Leaves"
  arc A0 (44.6932, 124.7546) -> (3.4974, 174.8639) centre (0, 130) ccw
  arc A1 (84.867, 83.4576) -> (44.6932, 124.7546) centre (40, 80) ccw
  arc A2 (84.867, 83.4576) -> (84.8606, 76.4613) centre (84.9777, 79.9594) ccw
  arc A3 (47.5, 35.6294) -> (84.8606, 76.4613) centre (40, 80) ccw
  line L0 (47.5, 35.6294) -> (47.5, 77.5)
  line L1 (47.5, 77.5) -> (-47.5, 77.5)
  line L2 (-47.5, 77.5) -> (-47.5, 35.6294)
  arc A4 (-84.8606, 76.4613) -> (-47.5, 35.6294) centre (-40, 80) ccw
  arc A5 (-84.8606, 76.4613) -> (-84.867, 83.4576) centre (-84.9777, 79.9594) ccw
  arc A6 (-44.6932, 124.7546) -> (-84.867, 83.4576) centre (-40, 80) ccw
  arc A7 (-3.4974, 174.8639) -> (-44.6932, 124.7546) centre (0, 130) ccw
  arc A8 (-3.4974, 174.8639) -> (3.4974, 174.8639) centre (0, 175) ccw
  circle A9 centre (27.5, 25) radius 1.5
  circle A10 centre (-27.5, 25) radius 1.5
  line L3 (-40, 30) -> (-40, 12.5)
  line L4 (-40, 12.5) -> (40, 12.5)
  line L5 (40, 12.5) -> (40, 30)
  arc A11 (40, 30) -> (49.9898, 128.9919) centre (40, 80) ccw
  arc A12 (49.9898, 128.9919) -> (-49.9898, 128.9919) centre (0, 130) ccw
  arc A13 (-49.9898, 128.9919) -> (-40, 30) centre (-40, 80) ccw
  circle A14 centre (-84.9777, 79.9594) radius 1
  circle A15 centre (0, 175) radius 1
  circle A16 centre (84.9777, 79.9594) radius 1
  dimension "d177" = 2
  dimension "d178" = 2
  dimension "d179" = 2
extrude "Extrude16" cut sketch "Sketch17" against normal blind 5 contours A14 | A15 | A16 bodies 2 in component "Leaves"
sketch "Sketch1 (4)" plane through (0, 60, 0) normal (0, 1, 0) x (-1, 0, 0) in component "Lid"
  circle A0 centre (84.9777, 79.9594) radius 1
  circle A1 centre (0, 175) radius 1
  circle A2 centre (-84.9777, 79.9594) radius 1
  arc A3 (44.6932, 124.7546) -> (3.4974, 174.8639) centre (0, 130) ccw
  arc A4 (84.867, 83.4576) -> (44.6932, 124.7546) centre (40, 80) ccw
  arc A5 (84.867, 83.4576) -> (84.8606, 76.4613) centre (84.9777, 79.9594) ccw
  arc A6 (47.5, 35.6294) -> (84.8606, 76.4613) centre (40, 80) ccw
  line L0 (47.5, 35.6294) -> (47.5, 77.5)
  line L1 (47.5, 77.5) -> (-47.5, 77.5)
  line L2 (-47.5, 77.5) -> (-47.5, 35.6294)
  arc A7 (-84.8606, 76.4613) -> (-47.5, 35.6294) centre (-40, 80) ccw
  arc A8 (-84.8606, 76.4613) -> (-84.867, 83.4576) centre (-84.9777, 79.9594) ccw
  arc A9 (-44.6932, 124.7546) -> (-84.867, 83.4576) centre (-40, 80) ccw
  arc A10 (-3.4974, 174.8639) -> (-44.6932, 124.7546) centre (0, 130) ccw
  arc A11 (-3.4974, 174.8639) -> (3.4974, 174.8639) centre (0, 175) ccw
  circle A12 centre (27.5, 25) radius 1.5
  circle A13 centre (-27.5, 25) radius 1.5
  line L3 (-40, 30) -> (-40, 12.5)
  line L4 (-40, 12.5) -> (40, 12.5)
  line L5 (40, 12.5) -> (40, 30)
  arc A14 (40, 30) -> (49.9898, 128.9919) centre (40, 80) ccw
  arc A15 (49.9898, 128.9919) -> (-49.9898, 128.9919) centre (0, 130) ccw
  arc A16 (-49.9898, 128.9919) -> (-40, 30) centre (-40, 80) ccw
  circle A17 centre (0, 130) radius 50
  circle A18 centre (-40, 80) radius 50
  circle A19 centre (40, 80) radius 50
  circle A20 centre (-44, 74) radius 1
  line L6 (0, 20) -> (0, 2.5)
  circle A21 centre (-87.6, 80) radius 1
  circle A22 centre (0, 177.5) radius 1
  circle A23 centre (87.5, 80) radius 1
  circle A24 centre (44, 74) radius 1
  dimension "d188" = 100
  dimension "d189" = 100
  dimension "d190" = 100
  dimension "d191" = 2
  dimension "d192" = 2
  dimension "d193" = 2
  dimension "d194" = 2
  dimension "d195" = 2
extrude "Extrude1'''" add sketch "Sketch1 (4)" along normal blind 5 separate body contours A0 | A1 | A2 | A3 A4 A17 A18 A19 | A3 A4 A17 A19 | A3 A10 A11 A18 A19 | A3 A10 A11 A15 A17 A18 A19 | A4 A5 A6 L0 L1 A14 A17 A18 A19 | A4 A5 A6 L0 L1 A17 A18 | A9 A10 A17 A18 A19 | A17 A18 A19 | L1 A17 A18 A19 | A9 A10 A17 A18 | L1 L2 A7 A8 A9 A17 A19 | L1 L2 A7 A8 A9 A16 A17 A18 A19 | L1 A18 A19 makes body 4 in component "Lid"
sketch "Sketch1 (5)" plane through (0, 0, 0) normal (0, -1, 0) x (1, 0, 0) in component "SpeakerMesh"
  circle A0 centre (0, -30) radius 25
  line L0 (37.5, -70) -> (37.5, 70)
  line L1 (37.5, 70) -> (-37.5, 70)
  line L2 (-37.5, 70) -> (-37.5, -70)
  line L3 (-37.5, -70) -> (37.5, -70)
  circle A1 centre (0, -30) radius 25
  circle A2 centre (0, -30) radius 1.25
  circle A3 centre (0, -20) radius 1.25
  circle A4 centre (0, -10) radius 1.25
  circle A5 centre (0, -40) radius 1.25
  circle A6 centre (0, -50) radius 1.25
  circle A7 centre (10, -30) radius 1.25
  circle A8 centre (20, -30) radius 1.25
  circle A9 centre (-10, -30) radius 1.25
  circle A10 centre (-20, -30) radius 1.25
  dimension "d198" = 50
  dimension "d199" = 2.5
  dimension "d200" = 2.5
  dimension "d201" = 2.5
  dimension "d202" = 2.5
  dimension "d203" = 2.5
  dimension "d204" = 2.5
  dimension "d205" = 2.5
  dimension "d206" = 2.5
  dimension "d207" = 2.5
component "Leaves" placed x (1, 0, 0) y (0, 1, 0) z (0, 0, 1) at (0, 0, 0)
component "Trunk" placed x (1, 0, 0) y (0, 1, 0) z (0, 0, 1) at (0, 0, 0)
component "ShovelHole" placed x (1, 0, 0) y (0, 1, 0) z (0, 0, 1) at (0, 0, 0)
component "Lid" placed x (1, 0, 0) y (0, 1, 0) z (0, 0, 1) at (0, 0, 0)
component "SpeakerMesh" placed x (1, 0, 0) y (0, 1, 0) z (0, 0, 1) at (0, 0, 0)
